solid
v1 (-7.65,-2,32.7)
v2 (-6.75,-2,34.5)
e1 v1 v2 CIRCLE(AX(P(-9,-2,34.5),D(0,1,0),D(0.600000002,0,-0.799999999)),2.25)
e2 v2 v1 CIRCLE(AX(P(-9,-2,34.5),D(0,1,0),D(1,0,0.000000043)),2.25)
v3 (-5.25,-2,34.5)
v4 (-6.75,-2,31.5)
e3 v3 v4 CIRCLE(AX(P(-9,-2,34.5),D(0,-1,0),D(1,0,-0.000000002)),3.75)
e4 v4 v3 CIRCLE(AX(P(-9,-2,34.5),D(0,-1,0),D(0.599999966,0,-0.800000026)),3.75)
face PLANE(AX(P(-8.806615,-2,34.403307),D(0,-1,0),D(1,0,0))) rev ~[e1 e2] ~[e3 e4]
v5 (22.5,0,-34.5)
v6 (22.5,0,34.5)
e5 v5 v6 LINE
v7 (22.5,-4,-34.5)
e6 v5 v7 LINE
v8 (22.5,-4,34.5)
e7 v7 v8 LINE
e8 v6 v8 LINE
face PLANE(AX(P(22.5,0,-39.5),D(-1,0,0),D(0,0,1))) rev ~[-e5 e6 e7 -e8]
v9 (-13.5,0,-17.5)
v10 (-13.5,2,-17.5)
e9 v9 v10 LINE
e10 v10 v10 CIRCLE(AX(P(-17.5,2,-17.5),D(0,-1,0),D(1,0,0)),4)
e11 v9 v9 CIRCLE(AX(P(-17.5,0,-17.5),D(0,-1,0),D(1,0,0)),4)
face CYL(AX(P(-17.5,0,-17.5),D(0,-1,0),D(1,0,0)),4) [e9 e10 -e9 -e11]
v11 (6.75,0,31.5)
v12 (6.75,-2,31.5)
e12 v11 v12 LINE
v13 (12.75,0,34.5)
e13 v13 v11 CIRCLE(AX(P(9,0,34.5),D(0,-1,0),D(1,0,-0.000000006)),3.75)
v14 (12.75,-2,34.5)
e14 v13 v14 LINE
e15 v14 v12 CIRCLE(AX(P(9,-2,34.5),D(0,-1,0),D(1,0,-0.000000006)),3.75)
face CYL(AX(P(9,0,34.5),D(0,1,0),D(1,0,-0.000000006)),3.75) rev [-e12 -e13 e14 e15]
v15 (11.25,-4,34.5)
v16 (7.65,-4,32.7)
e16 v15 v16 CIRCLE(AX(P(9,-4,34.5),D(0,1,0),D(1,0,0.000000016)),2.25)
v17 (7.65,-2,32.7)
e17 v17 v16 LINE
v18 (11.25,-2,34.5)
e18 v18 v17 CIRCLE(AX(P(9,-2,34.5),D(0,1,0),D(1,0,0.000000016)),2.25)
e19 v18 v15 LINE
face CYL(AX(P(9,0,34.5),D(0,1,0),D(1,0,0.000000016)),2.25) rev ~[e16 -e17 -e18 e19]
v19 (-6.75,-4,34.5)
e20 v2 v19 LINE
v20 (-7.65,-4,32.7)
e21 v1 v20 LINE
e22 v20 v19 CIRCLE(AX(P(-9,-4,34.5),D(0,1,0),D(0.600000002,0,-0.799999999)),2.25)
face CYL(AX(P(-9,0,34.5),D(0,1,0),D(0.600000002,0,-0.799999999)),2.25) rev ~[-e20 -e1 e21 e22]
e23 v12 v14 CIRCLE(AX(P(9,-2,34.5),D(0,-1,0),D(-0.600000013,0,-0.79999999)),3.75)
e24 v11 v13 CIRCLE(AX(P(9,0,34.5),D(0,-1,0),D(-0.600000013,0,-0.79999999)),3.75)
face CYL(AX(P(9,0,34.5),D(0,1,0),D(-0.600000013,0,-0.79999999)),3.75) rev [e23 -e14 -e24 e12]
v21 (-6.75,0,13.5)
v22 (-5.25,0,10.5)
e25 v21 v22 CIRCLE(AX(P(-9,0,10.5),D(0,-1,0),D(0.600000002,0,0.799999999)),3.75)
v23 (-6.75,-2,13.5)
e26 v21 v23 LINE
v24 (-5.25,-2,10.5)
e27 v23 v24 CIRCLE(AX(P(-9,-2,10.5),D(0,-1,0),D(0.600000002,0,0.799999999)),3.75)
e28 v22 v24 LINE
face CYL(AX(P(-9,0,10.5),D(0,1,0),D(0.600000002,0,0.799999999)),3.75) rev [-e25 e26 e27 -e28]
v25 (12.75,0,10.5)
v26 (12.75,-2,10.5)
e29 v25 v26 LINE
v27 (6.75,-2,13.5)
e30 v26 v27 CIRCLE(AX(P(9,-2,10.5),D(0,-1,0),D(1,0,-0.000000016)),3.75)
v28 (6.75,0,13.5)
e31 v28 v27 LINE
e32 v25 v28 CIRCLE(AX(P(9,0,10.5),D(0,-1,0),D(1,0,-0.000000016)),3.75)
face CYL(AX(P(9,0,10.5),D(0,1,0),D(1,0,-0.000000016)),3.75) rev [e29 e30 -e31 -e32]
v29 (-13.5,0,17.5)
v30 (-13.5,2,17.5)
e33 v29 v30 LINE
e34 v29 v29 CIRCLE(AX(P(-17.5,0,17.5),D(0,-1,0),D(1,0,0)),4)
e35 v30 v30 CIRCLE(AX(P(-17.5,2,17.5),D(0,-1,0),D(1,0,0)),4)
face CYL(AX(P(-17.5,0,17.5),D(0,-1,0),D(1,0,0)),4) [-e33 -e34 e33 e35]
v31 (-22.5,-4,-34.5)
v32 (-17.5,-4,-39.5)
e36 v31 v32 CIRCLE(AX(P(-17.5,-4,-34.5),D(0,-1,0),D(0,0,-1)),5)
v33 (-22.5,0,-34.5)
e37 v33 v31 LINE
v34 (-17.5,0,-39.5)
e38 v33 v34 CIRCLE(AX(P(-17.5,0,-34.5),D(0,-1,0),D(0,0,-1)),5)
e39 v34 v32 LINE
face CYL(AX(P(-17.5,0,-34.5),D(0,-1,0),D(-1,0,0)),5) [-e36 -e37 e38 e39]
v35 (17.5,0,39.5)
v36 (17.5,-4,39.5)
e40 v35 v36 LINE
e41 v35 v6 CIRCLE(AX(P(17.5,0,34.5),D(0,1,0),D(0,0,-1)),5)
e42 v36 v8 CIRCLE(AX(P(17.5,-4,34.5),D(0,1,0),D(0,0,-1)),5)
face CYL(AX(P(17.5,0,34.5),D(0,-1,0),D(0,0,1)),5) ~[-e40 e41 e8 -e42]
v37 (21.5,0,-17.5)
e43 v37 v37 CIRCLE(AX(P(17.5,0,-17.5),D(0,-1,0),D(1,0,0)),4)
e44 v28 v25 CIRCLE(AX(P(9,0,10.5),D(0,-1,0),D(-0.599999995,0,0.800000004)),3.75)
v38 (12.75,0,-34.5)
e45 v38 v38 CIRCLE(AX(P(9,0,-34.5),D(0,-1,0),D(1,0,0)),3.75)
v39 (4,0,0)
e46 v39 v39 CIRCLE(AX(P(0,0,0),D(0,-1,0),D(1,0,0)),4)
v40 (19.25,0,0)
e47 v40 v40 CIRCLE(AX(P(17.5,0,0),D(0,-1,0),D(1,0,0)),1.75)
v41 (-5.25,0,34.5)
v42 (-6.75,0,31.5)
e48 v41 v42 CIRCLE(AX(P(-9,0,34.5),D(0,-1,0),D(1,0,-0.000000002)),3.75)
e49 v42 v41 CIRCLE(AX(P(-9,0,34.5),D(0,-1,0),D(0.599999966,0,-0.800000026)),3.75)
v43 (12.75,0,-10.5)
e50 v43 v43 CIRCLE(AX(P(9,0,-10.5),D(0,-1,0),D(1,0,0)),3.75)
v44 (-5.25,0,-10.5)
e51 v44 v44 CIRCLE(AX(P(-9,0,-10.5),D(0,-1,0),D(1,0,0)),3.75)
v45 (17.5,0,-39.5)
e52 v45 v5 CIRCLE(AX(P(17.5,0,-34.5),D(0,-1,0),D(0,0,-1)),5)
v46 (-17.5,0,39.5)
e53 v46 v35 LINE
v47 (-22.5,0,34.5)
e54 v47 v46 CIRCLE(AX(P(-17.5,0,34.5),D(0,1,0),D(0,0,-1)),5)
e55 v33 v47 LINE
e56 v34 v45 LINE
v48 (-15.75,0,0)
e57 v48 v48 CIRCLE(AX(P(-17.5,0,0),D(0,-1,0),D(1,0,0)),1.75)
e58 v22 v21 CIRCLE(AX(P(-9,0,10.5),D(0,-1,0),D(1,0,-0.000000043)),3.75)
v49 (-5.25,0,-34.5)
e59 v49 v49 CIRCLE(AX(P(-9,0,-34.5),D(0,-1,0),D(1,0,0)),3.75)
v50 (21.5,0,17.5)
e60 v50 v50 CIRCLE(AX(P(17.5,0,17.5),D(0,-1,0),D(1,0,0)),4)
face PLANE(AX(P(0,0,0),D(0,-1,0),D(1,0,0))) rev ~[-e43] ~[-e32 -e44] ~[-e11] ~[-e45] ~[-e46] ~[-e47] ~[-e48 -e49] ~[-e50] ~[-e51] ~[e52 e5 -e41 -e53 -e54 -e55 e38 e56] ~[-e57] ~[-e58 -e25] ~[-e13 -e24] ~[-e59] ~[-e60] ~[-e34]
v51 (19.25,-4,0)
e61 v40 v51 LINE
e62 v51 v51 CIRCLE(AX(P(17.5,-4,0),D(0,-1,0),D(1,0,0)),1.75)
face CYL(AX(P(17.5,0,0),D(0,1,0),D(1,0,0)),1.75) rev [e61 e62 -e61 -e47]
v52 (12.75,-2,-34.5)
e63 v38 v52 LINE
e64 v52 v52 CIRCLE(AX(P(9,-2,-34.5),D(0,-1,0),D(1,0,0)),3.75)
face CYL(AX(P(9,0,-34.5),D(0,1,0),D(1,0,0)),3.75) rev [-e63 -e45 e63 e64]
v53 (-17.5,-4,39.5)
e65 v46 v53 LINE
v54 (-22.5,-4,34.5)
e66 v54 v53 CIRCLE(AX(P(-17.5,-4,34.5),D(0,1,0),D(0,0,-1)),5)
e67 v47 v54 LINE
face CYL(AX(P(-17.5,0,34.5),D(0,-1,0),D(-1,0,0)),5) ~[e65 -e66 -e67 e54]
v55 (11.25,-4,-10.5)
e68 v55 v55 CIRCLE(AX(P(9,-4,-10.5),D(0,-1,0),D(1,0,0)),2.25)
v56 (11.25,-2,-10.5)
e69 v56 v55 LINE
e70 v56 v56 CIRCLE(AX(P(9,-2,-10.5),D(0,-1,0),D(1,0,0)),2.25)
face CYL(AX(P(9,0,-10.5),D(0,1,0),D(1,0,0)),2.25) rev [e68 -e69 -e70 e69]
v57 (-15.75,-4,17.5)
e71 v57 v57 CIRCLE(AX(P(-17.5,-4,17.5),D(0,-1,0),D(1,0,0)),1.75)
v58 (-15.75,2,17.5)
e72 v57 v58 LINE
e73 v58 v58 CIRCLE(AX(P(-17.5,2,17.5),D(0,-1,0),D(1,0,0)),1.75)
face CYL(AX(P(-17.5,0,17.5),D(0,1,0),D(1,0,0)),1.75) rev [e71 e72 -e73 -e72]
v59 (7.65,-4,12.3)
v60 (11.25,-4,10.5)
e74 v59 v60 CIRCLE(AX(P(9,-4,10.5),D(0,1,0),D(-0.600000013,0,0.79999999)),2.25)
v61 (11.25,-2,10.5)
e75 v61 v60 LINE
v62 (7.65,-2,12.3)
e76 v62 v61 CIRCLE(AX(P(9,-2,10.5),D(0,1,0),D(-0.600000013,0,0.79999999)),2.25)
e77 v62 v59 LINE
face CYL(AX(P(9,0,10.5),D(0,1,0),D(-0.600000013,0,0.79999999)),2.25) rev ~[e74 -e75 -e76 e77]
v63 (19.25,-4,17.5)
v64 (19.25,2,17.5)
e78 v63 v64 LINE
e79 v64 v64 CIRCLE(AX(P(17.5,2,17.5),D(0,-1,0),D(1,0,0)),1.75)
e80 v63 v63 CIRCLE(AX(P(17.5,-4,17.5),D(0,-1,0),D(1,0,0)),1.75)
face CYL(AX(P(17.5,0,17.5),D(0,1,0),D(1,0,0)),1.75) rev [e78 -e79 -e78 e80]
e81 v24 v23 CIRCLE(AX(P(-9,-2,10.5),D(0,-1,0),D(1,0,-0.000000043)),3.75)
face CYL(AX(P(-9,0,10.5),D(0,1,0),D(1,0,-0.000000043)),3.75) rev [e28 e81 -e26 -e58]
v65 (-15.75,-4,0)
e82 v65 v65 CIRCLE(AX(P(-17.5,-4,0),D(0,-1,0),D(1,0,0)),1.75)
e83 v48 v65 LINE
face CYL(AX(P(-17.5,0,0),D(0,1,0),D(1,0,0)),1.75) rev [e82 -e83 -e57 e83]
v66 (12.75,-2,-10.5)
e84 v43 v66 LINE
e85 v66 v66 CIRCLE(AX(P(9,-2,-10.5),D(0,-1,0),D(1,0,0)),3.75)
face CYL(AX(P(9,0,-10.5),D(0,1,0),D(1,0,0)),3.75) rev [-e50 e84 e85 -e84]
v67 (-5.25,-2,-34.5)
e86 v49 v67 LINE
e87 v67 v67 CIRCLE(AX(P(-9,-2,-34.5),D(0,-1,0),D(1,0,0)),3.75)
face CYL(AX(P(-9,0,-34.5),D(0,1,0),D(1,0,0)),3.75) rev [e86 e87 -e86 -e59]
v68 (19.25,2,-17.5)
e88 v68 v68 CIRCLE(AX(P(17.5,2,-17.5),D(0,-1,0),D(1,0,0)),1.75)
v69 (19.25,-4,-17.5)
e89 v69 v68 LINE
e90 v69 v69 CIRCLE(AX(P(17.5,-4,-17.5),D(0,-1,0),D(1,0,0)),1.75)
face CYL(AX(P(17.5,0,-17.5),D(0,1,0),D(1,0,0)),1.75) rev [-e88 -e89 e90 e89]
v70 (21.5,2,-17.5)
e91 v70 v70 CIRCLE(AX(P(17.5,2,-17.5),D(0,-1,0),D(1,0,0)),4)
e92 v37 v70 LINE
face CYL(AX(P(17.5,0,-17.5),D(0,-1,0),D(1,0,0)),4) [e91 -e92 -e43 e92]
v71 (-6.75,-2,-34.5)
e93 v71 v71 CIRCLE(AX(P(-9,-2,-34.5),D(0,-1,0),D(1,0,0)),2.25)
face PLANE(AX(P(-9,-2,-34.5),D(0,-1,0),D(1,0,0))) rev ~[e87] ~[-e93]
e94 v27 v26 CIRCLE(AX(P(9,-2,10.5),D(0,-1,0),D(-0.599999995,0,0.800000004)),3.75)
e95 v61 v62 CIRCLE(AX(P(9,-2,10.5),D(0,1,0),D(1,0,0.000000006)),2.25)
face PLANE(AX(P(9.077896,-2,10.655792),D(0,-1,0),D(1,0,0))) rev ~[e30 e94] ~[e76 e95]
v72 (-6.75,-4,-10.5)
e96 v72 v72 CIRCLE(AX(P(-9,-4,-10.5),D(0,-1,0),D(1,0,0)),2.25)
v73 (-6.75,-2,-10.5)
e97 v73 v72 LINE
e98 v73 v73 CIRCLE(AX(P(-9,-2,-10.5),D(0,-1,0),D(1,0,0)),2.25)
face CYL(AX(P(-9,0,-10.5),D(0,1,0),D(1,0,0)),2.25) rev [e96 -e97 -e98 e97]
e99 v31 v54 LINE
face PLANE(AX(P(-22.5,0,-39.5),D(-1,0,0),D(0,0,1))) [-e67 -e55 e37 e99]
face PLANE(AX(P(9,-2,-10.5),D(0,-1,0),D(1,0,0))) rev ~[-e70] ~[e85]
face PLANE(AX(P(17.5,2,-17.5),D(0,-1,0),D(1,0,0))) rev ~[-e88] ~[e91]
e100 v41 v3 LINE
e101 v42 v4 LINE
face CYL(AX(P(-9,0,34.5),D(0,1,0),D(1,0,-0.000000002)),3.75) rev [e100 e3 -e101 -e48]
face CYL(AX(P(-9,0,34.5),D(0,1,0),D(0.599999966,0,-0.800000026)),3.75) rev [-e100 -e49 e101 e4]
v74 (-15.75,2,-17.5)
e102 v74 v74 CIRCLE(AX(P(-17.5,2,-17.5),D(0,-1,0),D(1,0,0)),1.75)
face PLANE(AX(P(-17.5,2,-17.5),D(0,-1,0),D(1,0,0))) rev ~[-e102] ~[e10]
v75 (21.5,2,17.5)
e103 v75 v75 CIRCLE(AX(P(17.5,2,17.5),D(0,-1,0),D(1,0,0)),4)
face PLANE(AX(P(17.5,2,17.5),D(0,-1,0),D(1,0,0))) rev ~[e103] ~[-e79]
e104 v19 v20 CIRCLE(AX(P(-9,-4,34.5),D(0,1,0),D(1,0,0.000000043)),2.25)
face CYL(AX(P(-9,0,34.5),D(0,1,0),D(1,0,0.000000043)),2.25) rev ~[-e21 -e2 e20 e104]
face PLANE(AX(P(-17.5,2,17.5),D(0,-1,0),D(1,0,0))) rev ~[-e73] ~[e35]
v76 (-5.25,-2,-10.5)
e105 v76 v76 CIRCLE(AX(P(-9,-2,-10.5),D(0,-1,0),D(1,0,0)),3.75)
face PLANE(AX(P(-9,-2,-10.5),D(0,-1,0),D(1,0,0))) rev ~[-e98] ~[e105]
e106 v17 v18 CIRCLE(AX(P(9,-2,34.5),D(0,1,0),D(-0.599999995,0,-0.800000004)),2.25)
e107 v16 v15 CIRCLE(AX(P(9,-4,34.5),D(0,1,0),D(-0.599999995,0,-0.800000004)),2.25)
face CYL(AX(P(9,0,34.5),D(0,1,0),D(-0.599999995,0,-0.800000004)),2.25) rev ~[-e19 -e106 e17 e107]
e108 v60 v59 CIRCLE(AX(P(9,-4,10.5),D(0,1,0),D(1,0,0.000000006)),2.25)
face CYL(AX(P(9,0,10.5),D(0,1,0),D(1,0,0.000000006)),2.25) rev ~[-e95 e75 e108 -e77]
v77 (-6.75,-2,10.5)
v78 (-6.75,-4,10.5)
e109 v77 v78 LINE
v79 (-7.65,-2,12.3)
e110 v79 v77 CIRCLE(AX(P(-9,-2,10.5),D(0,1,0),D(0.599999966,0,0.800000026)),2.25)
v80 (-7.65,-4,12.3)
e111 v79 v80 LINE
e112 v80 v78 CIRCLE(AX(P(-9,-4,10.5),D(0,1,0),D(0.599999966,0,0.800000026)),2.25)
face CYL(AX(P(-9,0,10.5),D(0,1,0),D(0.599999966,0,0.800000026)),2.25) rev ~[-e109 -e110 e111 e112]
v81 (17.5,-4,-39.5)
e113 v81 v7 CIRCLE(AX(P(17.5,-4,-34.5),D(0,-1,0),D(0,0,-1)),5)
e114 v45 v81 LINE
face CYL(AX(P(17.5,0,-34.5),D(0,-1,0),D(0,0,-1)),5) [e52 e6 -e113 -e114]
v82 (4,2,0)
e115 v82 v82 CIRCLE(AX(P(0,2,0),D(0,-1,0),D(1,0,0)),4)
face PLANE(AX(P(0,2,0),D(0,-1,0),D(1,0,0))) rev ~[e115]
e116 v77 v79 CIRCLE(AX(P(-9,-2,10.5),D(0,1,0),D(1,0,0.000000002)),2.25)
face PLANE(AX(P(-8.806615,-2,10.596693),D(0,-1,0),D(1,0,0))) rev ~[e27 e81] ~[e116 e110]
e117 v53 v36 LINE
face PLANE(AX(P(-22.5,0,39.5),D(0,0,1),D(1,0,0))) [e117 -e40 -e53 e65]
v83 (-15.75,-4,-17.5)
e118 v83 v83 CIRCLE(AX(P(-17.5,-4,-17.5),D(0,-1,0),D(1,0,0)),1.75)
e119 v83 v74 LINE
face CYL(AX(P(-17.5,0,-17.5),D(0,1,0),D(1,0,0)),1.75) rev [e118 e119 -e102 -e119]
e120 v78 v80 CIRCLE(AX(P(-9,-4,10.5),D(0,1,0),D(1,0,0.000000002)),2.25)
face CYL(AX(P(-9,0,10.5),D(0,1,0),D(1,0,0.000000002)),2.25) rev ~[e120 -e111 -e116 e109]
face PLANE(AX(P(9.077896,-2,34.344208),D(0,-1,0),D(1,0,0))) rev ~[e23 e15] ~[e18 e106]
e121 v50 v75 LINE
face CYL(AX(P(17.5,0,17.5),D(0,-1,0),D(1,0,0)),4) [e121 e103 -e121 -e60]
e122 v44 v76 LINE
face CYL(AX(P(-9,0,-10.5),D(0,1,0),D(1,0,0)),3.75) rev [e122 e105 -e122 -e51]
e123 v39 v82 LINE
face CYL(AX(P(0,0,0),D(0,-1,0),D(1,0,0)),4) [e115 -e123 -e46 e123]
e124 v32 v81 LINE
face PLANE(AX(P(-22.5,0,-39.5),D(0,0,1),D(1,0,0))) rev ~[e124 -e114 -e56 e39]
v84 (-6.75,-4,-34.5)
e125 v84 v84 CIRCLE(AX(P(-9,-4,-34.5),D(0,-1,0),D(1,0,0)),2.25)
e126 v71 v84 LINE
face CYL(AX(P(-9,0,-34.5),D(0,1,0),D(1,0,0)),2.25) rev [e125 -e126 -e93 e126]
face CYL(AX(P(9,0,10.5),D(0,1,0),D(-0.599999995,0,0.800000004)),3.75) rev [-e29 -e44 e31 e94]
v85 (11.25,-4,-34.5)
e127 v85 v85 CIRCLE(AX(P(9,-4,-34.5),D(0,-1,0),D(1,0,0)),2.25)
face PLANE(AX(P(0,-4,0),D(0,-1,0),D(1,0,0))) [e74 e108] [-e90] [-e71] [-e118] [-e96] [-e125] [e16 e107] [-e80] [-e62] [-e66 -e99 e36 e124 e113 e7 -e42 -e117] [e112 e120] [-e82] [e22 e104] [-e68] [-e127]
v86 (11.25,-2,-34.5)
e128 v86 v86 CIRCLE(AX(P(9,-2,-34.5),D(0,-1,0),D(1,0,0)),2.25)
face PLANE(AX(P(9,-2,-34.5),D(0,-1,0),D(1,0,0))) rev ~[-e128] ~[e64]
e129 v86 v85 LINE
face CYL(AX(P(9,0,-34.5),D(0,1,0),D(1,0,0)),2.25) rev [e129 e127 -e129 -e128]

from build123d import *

# Parameters (mm, degrees)
F0_W     = 45
F0_H     = 79
F0_R     = 3.75
F0_R_2   = 4
F0_R_3   = 1.75
F0_R_4   = 2.25
F1_DEPTH = 4
F2_DEPTH = 2
F3_R     = 5
F4_DEPTH = 2


with BuildPart() as f1:
    # F0 (on Front) → F1 (new body)
    with BuildSketch(Plane.XZ):
        Rectangle(F0_W, F0_H)
        with Locations((-9, -34.5)):
            Circle(F0_R, mode=Mode.SUBTRACT)
        with Locations((-17.5, -17.5)):
            Circle(F0_R_2, mode=Mode.SUBTRACT)
        with Locations((-9, -10.5)):
            Circle(F0_R, mode=Mode.SUBTRACT)
        with Locations((9, -34.5)):
            Circle(F0_R, mode=Mode.SUBTRACT)
        with Locations((9, -10.5)):
            Circle(F0_R, mode=Mode.SUBTRACT)
        with Locations((17.5, -17.5)):
            Circle(F0_R_2, mode=Mode.SUBTRACT)
        with Locations((-17.5, 0)):
            Circle(F0_R_3, mode=Mode.SUBTRACT)
        with Locations((-17.5, 17.5)):
            Circle(F0_R_2, mode=Mode.SUBTRACT)
        with BuildLine():
            ThreePointArc((-5.25, 10.5), (-12.354102, 8.822949), (-6.75, 13.5))
            ThreePointArc((-6.75, 13.5), (-5.645898, 12.177051), (-5.25, 10.5))
        make_face(mode=Mode.SUBTRACT)
        with BuildLine():
            ThreePointArc((-5.25, 34.5), (-5.645898, 32.822949), (-6.75, 31.5))
            ThreePointArc((-6.75, 31.5), (-12.354102, 36.177051), (-5.25, 34.5))
        make_face(mode=Mode.SUBTRACT)
        Circle(F0_R_2, mode=Mode.SUBTRACT)
        with BuildLine():
            ThreePointArc((12.75, 10.5), (7.322949, 7.145898), (6.75, 13.5))
            ThreePointArc((6.75, 13.5), (10.677051, 13.854102), (12.75, 10.5))
        make_face(mode=Mode.SUBTRACT)
        with Locations((17.5, 0)):
            Circle(F0_R_3, mode=Mode.SUBTRACT)
        with Locations((17.5, 17.5)):
            Circle(F0_R_2, mode=Mode.SUBTRACT)
        with BuildLine():
            ThreePointArc((12.75, 34.5), (10.677051, 31.145898), (6.75, 31.5))
            ThreePointArc((6.75, 31.5), (7.322949, 37.854102), (12.75, 34.5))
        make_face(mode=Mode.SUBTRACT)
        with BuildLine():
            ThreePointArc((-7.65, 32.7), (-6.987539, 33.493769), (-6.75, 34.5))
            ThreePointArc((-6.75, 34.5), (-11.012461, 35.506231), (-7.65, 32.7))
        make_face()
        with BuildLine():
            ThreePointArc((-5.25, 34.5), (-12.354102, 36.177051), (-6.75, 31.5))
            ThreePointArc((-6.75, 31.5), (-5.645898, 32.822949), (-5.25, 34.5))
        make_face()
        with BuildLine():
            ThreePointArc((-7.65, 32.7), (-11.012461, 35.506231), (-6.75, 34.5))
            ThreePointArc((-6.75, 34.5), (-6.987539, 33.493769), (-7.65, 32.7))
        make_face(mode=Mode.SUBTRACT)
        with BuildLine():
            ThreePointArc((11.25, 34.5), (7.993769, 36.512461), (7.65, 32.7))
            ThreePointArc((7.65, 32.7), (10.006231, 32.487539), (11.25, 34.5))
        make_face()
        with BuildLine():
            ThreePointArc((12.75, 34.5), (7.322949, 37.854102), (6.75, 31.5))
            ThreePointArc((6.75, 31.5), (10.677051, 31.145898), (12.75, 34.5))
        make_face()
        with BuildLine():
            ThreePointArc((11.25, 34.5), (10.006231, 32.487539), (7.65, 32.7))
            ThreePointArc((7.65, 32.7), (7.993769, 36.512461), (11.25, 34.5))
        make_face(mode=Mode.SUBTRACT)
        with BuildLine():
            ThreePointArc((11.25, 10.5), (10.006231, 12.512461), (7.65, 12.3))
            ThreePointArc((7.65, 12.3), (7.993769, 8.487539), (11.25, 10.5))
        make_face()
        with BuildLine():
            ThreePointArc((12.75, 10.5), (10.677051, 13.854102), (6.75, 13.5))
            ThreePointArc((6.75, 13.5), (7.322949, 7.145898), (12.75, 10.5))
        make_face()
        with BuildLine():
            ThreePointArc((11.25, 10.5), (7.993769, 8.487539), (7.65, 12.3))
            ThreePointArc((7.65, 12.3), (10.006231, 12.512461), (11.25, 10.5))
        make_face(mode=Mode.SUBTRACT)
        with BuildLine():
            ThreePointArc((-6.75, 10.5), (-6.987539, 11.506231), (-7.65, 12.3))
            ThreePointArc((-7.65, 12.3), (-11.012461, 9.493769), (-6.75, 10.5))
        make_face()
        with BuildLine():
            ThreePointArc((-5.25, 10.5), (-5.645898, 12.177051), (-6.75, 13.5))
            ThreePointArc((-6.75, 13.5), (-12.354102, 8.822949), (-5.25, 10.5))
        make_face()
        with BuildLine():
            ThreePointArc((-6.75, 10.5), (-11.012461, 9.493769), (-7.65, 12.3))
            ThreePointArc((-7.65, 12.3), (-6.987539, 11.506231), (-6.75, 10.5))
        make_face(mode=Mode.SUBTRACT)
        with Locations((-17.5, 17.5)):
            Circle(F0_R_2)
        with Locations((-17.5, 17.5)):
            Circle(F0_R_3, mode=Mode.SUBTRACT)
        Circle(F0_R_2)
        with Locations((-17.5, -17.5)):
            Circle(F0_R_2)
        with Locations((-17.5, -17.5)):
            Circle(F0_R_3, mode=Mode.SUBTRACT)
        with Locations((17.5, -17.5)):
            Circle(F0_R_2)
        with Locations((17.5, -17.5)):
            Circle(F0_R_3, mode=Mode.SUBTRACT)
        with Locations((17.5, 17.5)):
            Circle(F0_R_2)
        with Locations((17.5, 17.5)):
            Circle(F0_R_3, mode=Mode.SUBTRACT)
        with Locations((9, -10.5)):
            Circle(F0_R)
        with Locations((9, -10.5)):
            Circle(F0_R_4, mode=Mode.SUBTRACT)
        with Locations((-9, -10.5)):
            Circle(F0_R)
        with Locations((-9, -10.5)):
            Circle(F0_R_4, mode=Mode.SUBTRACT)
        with Locations((9, -34.5)):
            Circle(F0_R)
        with Locations((9, -34.5)):
            Circle(F0_R_4, mode=Mode.SUBTRACT)
        with Locations((-9, -34.5)):
            Circle(F0_R)
        with Locations((-9, -34.5)):
            Circle(F0_R_4, mode=Mode.SUBTRACT)
    extrude(amount=F1_DEPTH)

    # F0 (on Front) → F2 (join)
    with BuildSketch(Plane.XZ):
        with Locations((-17.5, 17.5)):
            Circle(F0_R_2)
        with Locations((-17.5, 17.5)):
            Circle(F0_R_3, mode=Mode.SUBTRACT)
        with Locations((17.5, 17.5)):
            Circle(F0_R_2)
        with Locations((17.5, 17.5)):
            Circle(F0_R_3, mode=Mode.SUBTRACT)
        Circle(F0_R_2)
        with Locations((-17.5, -17.5)):
            Circle(F0_R_2)
        with Locations((-17.5, -17.5)):
            Circle(F0_R_3, mode=Mode.SUBTRACT)
        with Locations((17.5, -17.5)):
            Circle(F0_R_2)
        with Locations((17.5, -17.5)):
            Circle(F0_R_3, mode=Mode.SUBTRACT)
    extrude(amount=-F2_DEPTH)

    # F3
    f3_edges = [f1.edges().sort_by_distance(p)[0] for p in [
        (-22.5, -2, 39.5),
        (-22.5, -2, -39.5),
        (22.5, -2, -39.5),
        (22.5, -2, 39.5),
    ]]
    fillet(f3_edges, radius=F3_R)

    # F0 (on Front) → F4 (cut)
    with BuildSketch(Plane.XZ):
        with BuildLine():
            ThreePointArc((-5.25, 34.5), (-12.354102, 36.177051), (-6.75, 31.5))
            ThreePointArc((-6.75, 31.5), (-5.645898, 32.822949), (-5.25, 34.5))
        make_face()
        with BuildLine():
            ThreePointArc((-7.65, 32.7), (-11.012461, 35.506231), (-6.75, 34.5))
            ThreePointArc((-6.75, 34.5), (-6.987539, 33.493769), (-7.65, 32.7))
        make_face(mode=Mode.SUBTRACT)
        with BuildLine():
            ThreePointArc((-5.25, 10.5), (-5.645898, 12.177051), (-6.75, 13.5))
            ThreePointArc((-6.75, 13.5), (-12.354102, 8.822949), (-5.25, 10.5))
        make_face()
        with BuildLine():
            ThreePointArc((-6.75, 10.5), (-11.012461, 9.493769), (-7.65, 12.3))
            ThreePointArc((-7.65, 12.3), (-6.987539, 11.506231), (-6.75, 10.5))
        make_face(mode=Mode.SUBTRACT)
        with BuildLine():
            ThreePointArc((12.75, 10.5), (10.677051, 13.854102), (6.75, 13.5))
            ThreePointArc((6.75, 13.5), (7.322949, 7.145898), (12.75, 10.5))
        make_face()
        with BuildLine():
            ThreePointArc((11.25, 10.5), (7.993769, 8.487539), (7.65, 12.3))
            ThreePointArc((7.65, 12.3), (10.006231, 12.512461), (11.25, 10.5))
        make_face(mode=Mode.SUBTRACT)
        with BuildLine():
            ThreePointArc((12.75, 34.5), (7.322949, 37.854102), (6.75, 31.5))
            ThreePointArc((6.75, 31.5), (10.677051, 31.145898), (12.75, 34.5))
        make_face()
        with BuildLine():
            ThreePointArc((11.25, 34.5), (10.006231, 32.487539), (7.65, 32.7))
            ThreePointArc((7.65, 32.7), (7.993769, 36.512461), (11.25, 34.5))
        make_face(mode=Mode.SUBTRACT)
        with Locations((-9, -10.5)):
            Circle(F0_R)
        with Locations((-9, -10.5)):
            Circle(F0_R_4, mode=Mode.SUBTRACT)
        with Locations((9, -10.5)):
            Circle(F0_R)
        with Locations((9, -10.5)):
            Circle(F0_R_4, mode=Mode.SUBTRACT)
        with Locations((9, -34.5)):
            Circle(F0_R)
        with Locations((9, -34.5)):
            Circle(F0_R_4, mode=Mode.SUBTRACT)
        with Locations((-9, -34.5)):
            Circle(F0_R)
        with Locations((-9, -34.5)):
            Circle(F0_R_4, mode=Mode.SUBTRACT)
    extrude(amount=F4_DEPTH, mode=Mode.SUBTRACT)


solid = f1.part
